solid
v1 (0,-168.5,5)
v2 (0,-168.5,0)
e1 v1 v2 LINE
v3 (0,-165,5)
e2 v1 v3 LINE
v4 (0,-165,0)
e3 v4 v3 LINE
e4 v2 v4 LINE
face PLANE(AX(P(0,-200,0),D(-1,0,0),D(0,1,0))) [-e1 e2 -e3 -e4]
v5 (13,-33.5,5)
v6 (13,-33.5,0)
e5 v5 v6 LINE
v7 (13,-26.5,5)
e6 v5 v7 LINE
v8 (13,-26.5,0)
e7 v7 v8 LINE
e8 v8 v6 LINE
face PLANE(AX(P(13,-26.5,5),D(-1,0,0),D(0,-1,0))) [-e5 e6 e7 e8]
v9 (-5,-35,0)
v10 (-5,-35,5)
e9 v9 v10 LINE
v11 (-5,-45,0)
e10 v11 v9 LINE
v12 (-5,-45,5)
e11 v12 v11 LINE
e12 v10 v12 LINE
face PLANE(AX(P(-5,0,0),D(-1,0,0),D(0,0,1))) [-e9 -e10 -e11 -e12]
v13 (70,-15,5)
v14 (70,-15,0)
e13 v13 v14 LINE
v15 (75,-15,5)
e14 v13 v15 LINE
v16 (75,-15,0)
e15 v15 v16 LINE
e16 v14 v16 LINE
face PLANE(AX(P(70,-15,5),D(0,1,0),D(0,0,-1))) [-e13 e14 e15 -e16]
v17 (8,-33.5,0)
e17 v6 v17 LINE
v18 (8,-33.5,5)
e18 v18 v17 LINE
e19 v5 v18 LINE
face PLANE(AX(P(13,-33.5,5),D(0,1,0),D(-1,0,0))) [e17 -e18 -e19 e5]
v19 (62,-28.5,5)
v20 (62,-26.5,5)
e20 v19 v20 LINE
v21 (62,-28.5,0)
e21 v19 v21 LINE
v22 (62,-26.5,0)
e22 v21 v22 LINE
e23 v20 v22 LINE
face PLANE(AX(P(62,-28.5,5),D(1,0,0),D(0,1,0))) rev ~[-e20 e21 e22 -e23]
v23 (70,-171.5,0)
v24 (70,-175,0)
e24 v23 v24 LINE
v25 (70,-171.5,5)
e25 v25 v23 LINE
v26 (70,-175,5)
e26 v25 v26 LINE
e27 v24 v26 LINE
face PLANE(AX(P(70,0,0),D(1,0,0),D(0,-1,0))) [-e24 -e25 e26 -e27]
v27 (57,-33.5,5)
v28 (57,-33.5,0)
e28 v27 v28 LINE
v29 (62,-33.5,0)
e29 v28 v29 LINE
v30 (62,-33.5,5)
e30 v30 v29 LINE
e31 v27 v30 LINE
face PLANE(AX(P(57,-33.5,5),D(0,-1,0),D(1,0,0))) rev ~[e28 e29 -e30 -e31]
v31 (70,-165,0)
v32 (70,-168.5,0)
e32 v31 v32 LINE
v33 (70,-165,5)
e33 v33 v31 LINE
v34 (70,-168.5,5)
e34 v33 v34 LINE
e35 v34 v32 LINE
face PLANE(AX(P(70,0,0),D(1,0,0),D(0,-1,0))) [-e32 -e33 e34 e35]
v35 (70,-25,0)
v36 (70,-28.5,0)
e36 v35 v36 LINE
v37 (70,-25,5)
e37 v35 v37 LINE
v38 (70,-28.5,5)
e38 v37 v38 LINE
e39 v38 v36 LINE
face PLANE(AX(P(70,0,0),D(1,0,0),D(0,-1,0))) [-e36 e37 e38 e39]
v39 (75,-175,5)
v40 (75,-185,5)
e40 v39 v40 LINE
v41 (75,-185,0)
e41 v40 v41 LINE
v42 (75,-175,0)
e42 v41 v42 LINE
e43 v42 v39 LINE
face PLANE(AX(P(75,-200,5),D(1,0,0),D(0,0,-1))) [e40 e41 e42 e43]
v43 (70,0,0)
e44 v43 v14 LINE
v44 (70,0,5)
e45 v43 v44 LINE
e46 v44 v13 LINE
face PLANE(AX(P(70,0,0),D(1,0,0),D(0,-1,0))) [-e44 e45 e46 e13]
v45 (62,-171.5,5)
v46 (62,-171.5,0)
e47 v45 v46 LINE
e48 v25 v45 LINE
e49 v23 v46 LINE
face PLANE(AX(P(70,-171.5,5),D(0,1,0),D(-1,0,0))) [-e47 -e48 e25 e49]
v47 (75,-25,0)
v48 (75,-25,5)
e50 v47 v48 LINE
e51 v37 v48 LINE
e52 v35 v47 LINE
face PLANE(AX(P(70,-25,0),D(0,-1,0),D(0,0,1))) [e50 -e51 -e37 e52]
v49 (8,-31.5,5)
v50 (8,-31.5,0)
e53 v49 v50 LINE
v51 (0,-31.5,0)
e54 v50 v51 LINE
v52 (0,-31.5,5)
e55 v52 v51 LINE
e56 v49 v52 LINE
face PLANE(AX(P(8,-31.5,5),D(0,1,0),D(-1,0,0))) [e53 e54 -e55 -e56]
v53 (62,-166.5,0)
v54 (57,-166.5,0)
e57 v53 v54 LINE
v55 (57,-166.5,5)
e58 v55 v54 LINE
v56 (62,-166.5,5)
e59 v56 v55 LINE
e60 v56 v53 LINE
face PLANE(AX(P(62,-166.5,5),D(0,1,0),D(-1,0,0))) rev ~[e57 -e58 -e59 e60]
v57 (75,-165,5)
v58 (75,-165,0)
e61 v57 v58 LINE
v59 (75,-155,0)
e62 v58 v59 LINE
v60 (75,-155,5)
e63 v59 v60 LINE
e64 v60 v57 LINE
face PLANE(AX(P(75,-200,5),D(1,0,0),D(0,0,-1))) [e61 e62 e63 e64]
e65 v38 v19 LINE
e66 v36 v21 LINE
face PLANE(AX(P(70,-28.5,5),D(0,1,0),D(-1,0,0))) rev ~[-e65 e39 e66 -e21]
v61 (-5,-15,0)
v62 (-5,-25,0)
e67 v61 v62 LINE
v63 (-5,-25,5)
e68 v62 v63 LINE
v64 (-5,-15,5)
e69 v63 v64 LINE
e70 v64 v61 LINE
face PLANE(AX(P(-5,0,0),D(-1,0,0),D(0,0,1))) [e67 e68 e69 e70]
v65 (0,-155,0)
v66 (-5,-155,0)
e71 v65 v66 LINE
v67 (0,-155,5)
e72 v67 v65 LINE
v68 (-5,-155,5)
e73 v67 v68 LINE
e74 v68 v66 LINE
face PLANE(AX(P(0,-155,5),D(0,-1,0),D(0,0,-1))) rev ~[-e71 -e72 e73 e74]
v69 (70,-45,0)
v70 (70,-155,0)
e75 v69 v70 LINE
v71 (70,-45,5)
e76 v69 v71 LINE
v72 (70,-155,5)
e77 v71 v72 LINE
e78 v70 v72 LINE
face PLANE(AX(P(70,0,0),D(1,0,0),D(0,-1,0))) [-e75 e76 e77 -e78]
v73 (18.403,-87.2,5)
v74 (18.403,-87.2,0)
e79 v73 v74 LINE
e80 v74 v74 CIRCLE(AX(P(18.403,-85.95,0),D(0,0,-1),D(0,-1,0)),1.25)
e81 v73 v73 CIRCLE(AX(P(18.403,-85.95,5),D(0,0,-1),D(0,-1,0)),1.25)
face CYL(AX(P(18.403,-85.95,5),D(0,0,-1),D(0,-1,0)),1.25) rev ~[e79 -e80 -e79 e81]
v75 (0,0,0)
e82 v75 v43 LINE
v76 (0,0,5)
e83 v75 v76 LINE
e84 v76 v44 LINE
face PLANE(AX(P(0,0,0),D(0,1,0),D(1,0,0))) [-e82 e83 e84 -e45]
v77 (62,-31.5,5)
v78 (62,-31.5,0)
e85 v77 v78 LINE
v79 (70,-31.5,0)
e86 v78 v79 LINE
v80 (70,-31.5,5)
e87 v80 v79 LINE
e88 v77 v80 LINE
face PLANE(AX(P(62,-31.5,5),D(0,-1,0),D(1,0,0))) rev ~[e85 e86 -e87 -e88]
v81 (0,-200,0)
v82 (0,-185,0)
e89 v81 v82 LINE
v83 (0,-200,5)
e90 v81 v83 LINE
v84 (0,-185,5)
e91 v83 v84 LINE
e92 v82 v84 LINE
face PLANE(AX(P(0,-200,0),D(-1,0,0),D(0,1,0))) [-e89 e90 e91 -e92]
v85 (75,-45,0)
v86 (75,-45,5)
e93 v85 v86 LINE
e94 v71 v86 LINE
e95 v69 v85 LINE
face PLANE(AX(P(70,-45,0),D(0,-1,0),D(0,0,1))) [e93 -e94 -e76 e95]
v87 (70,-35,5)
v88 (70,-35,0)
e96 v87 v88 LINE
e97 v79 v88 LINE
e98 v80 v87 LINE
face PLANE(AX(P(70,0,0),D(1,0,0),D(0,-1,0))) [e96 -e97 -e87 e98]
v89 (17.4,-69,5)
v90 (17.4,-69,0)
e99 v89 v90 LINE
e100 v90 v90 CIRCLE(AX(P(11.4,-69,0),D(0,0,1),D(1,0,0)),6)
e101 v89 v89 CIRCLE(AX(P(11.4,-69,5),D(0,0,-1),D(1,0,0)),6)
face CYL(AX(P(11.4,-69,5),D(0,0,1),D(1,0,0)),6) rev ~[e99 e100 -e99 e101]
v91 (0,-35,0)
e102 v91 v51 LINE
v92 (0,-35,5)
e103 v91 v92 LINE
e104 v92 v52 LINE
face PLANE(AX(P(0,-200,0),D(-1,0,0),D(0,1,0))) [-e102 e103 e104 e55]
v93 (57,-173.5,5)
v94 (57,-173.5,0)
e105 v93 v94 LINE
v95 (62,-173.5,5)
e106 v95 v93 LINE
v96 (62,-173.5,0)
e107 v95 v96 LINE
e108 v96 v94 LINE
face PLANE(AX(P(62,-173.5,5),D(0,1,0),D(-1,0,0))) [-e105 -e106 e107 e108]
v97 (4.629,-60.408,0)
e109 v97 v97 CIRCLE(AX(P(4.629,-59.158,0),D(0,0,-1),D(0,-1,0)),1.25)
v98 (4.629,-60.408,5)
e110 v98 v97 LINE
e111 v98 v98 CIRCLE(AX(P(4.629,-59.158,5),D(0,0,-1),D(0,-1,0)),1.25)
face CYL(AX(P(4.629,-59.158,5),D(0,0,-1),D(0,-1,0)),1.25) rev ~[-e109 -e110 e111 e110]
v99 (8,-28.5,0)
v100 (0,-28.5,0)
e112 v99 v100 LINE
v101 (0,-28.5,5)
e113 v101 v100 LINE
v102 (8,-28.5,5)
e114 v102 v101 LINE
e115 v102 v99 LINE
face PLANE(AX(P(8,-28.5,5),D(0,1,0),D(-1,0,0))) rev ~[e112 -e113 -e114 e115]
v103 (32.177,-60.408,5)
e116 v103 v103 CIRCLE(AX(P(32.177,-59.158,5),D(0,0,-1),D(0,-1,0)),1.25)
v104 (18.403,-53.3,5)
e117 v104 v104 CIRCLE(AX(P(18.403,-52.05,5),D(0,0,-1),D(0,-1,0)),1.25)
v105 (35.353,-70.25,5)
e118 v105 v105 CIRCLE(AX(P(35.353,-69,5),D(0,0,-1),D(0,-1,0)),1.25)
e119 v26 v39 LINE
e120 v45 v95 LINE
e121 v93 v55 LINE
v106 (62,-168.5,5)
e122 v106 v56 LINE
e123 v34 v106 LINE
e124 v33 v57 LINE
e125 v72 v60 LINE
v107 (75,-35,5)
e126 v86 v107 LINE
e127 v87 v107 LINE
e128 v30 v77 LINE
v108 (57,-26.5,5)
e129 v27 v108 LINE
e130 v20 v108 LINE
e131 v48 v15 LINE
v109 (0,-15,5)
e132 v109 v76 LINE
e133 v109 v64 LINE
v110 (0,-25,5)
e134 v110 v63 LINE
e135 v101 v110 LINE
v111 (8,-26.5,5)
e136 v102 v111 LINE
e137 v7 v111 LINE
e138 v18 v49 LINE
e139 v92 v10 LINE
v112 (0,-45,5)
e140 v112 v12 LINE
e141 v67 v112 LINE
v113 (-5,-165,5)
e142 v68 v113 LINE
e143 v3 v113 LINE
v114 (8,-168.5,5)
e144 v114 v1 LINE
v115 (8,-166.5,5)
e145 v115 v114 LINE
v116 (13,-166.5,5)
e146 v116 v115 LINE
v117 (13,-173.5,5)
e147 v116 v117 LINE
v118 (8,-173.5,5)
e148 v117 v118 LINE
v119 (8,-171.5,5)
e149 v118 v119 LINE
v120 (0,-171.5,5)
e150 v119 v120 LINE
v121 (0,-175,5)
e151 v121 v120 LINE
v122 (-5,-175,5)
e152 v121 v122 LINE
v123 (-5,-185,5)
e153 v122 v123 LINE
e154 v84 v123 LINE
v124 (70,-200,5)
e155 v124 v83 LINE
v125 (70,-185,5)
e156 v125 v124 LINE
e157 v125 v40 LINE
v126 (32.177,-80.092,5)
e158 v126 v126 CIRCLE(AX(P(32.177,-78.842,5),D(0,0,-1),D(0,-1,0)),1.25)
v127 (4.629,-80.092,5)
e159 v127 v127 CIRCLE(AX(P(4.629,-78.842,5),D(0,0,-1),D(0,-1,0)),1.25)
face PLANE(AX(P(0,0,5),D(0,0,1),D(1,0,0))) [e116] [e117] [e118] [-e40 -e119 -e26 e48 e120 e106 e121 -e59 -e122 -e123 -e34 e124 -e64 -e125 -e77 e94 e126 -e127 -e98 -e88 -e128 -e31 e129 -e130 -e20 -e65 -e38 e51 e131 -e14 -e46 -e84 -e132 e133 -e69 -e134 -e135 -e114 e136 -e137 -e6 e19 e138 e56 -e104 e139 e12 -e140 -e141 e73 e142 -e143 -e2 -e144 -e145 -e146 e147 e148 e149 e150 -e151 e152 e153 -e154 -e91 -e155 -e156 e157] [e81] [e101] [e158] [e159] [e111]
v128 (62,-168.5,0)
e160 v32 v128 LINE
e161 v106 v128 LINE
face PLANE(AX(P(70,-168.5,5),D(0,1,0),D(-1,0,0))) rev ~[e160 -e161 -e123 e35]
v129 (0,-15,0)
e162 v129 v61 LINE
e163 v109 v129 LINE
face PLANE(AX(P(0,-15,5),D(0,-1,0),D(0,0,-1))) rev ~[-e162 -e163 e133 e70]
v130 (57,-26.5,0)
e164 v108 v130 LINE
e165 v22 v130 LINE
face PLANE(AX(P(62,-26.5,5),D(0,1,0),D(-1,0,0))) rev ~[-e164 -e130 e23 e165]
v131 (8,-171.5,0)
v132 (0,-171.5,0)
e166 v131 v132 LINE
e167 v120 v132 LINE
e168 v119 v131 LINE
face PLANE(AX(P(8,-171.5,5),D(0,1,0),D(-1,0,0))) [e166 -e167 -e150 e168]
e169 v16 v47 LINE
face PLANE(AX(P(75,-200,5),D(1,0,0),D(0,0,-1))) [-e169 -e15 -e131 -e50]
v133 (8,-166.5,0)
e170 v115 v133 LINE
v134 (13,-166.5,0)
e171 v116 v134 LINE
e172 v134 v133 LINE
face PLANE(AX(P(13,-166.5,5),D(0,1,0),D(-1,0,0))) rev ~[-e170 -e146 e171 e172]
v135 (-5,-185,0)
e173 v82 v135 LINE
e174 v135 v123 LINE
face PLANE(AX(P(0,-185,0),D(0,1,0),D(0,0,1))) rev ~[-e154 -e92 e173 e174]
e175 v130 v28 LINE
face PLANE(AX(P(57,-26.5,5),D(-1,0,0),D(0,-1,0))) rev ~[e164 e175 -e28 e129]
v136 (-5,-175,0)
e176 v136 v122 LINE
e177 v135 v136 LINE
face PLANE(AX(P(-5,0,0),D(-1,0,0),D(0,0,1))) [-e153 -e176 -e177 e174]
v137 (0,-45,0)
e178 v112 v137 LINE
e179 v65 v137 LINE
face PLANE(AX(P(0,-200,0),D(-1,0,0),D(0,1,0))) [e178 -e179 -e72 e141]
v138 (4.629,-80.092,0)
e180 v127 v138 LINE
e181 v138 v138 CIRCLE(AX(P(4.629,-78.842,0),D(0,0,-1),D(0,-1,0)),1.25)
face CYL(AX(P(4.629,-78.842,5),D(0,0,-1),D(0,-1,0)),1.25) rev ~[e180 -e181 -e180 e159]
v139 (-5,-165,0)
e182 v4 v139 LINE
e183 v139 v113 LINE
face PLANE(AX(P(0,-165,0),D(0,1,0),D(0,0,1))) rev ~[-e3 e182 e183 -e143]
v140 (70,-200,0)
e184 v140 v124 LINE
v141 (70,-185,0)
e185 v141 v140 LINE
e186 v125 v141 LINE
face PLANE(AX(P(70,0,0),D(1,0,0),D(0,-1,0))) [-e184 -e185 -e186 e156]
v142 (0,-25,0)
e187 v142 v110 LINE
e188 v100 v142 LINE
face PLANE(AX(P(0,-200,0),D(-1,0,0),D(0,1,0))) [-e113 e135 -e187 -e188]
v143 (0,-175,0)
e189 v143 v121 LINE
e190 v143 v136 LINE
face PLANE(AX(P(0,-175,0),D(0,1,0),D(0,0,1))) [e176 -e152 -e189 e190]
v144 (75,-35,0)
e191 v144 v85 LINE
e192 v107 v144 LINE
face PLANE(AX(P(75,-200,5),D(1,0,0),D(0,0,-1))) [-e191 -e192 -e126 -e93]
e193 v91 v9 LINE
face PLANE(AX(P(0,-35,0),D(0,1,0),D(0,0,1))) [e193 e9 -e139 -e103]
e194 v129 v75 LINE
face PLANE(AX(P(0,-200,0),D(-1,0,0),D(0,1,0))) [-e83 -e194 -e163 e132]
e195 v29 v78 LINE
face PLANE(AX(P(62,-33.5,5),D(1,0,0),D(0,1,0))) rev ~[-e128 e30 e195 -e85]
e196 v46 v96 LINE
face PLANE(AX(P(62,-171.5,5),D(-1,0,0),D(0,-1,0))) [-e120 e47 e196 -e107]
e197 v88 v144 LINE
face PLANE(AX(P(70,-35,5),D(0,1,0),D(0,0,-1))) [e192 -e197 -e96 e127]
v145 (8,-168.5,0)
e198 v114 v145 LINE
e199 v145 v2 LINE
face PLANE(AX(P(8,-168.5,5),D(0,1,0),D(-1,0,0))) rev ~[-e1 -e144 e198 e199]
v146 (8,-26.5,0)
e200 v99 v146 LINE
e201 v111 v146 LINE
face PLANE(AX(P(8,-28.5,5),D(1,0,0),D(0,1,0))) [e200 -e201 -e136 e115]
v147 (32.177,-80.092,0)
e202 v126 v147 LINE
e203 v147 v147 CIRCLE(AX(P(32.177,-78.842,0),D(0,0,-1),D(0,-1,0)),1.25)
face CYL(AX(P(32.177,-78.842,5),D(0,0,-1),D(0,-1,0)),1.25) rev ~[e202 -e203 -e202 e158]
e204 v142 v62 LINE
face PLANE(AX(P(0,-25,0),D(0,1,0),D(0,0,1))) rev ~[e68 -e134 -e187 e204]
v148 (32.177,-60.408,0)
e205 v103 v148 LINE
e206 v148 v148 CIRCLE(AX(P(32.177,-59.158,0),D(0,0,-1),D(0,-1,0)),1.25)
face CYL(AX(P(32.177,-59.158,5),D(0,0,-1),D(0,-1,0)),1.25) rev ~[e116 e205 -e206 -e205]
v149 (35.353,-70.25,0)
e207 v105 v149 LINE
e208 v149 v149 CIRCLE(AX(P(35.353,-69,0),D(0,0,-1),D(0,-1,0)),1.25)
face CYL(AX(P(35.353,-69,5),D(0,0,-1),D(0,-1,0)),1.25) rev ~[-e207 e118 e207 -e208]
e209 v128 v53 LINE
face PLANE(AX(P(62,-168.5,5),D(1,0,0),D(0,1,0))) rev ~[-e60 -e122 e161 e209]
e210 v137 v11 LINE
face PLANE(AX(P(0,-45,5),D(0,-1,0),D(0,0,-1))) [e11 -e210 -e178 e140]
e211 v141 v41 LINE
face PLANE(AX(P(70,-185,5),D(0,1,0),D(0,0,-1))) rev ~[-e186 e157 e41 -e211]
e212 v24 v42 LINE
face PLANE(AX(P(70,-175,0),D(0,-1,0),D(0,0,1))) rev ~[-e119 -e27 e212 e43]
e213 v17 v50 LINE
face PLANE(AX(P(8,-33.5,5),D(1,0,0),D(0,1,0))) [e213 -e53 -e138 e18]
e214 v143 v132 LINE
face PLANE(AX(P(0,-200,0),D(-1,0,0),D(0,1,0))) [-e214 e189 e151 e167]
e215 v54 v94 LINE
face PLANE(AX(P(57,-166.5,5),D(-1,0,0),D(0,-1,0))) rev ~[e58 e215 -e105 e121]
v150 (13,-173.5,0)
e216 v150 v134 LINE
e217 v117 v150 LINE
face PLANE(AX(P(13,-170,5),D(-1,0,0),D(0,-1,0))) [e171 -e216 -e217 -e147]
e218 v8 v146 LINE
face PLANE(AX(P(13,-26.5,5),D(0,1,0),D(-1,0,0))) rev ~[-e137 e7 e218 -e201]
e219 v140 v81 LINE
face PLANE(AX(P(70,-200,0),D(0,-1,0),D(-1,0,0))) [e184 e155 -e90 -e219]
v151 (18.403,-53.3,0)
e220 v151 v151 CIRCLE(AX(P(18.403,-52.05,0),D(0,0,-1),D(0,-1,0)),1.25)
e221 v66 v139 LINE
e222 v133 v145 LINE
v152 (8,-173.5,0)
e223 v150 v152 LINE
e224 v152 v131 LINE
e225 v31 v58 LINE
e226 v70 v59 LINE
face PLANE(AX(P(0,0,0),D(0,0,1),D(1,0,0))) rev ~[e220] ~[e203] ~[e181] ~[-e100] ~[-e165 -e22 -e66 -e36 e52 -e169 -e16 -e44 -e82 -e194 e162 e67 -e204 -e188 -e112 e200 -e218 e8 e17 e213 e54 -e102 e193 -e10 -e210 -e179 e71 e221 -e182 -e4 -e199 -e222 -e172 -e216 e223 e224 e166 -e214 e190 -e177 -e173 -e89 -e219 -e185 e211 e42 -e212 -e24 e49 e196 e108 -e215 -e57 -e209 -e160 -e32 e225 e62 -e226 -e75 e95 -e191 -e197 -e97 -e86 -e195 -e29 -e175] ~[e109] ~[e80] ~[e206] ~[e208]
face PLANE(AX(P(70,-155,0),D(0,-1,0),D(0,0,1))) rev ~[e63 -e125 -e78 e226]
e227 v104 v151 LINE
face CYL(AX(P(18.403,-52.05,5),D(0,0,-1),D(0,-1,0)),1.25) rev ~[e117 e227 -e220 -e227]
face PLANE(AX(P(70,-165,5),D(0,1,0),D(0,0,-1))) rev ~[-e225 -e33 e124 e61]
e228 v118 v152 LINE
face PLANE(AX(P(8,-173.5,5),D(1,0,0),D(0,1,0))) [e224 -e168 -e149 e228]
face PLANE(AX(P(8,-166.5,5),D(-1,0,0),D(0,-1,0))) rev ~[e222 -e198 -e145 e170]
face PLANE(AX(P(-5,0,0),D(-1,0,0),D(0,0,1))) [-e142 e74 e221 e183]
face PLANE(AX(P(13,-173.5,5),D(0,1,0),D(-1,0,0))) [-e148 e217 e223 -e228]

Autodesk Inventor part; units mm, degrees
ref_plane "YZ Plane" through (0, 0, 0) normal (1, 0, 0) x (0, 1, 0)
ref_plane "XZ Plane" through (0, 0, 0) normal (0, 1, 0) x (-1, 0, 0)
ref_plane "XY Plane" through (0, 0, 0) normal (0, 0, 1) x (1, 0, 0)
sketch "Sketch1" plane through (0, 0, 0) normal (0, 0, 1) x (1, 0, 0)
  line L0 (0, 0) -> (70, 0)
  line L1 (70, 0) -> (70, -200)
  line L2 (70, -200) -> (0, -200)
  line L3 (0, -200) -> (0, 0)
  dimension "d0" = 70
  dimension "d1" = 200
extrude "Extrusion1" add sketch "Sketch1" along normal blind 5
sketch "Sketch3" plane through (0, 0, 5) normal (0, 0, 1) x (1, 0, 0)
  line L0 (0, -0.5) -> (0, -3)
  line L1 (0, -3) -> (0, -30)
  line L2 (0, -3) -> (0, -2)
  line L3 (8, -1) -> (11, -1)
  line L4 (0, -30) -> (0, -28.5)
  line L5 (8, -28.5) -> (8, -26.5)
  line L6 (13, -26.5) -> (13, -33.5)
  line L7 (8, -33.5) -> (8, -31.5)
  line L8 (0, -31.5) -> (0, -30)
  line L9 (0, -30) -> (13, -30)
  line L10 (0, -30) -> (0, -60)
  line L11 (0, -60) -> (13, -60)
  line L12 (13, -60) -> (13, -56.5)
  line L13 (13, -56.5) -> (8, -56.5)
  line L14 (8, -56.5) -> (8, -58.5)
  line L15 (8, -58.5) -> (0, -58.5)
  line L16 (13, -60) -> (13, -63.5)
  line L17 (13, -63.5) -> (8, -63.5)
  line L18 (8, -63.5) -> (8, -61.5)
  line L19 (8, -61.5) -> (0, -61.5)
  line L20 (0, -60) -> (0, -90)
  line L21 (0, -90) -> (0, -170)
  line L22 (0, -170) -> (13, -170)
  line L23 (13, -170) -> (13, -166.5)
  line L24 (13, -166.5) -> (8, -166.5)
  line L25 (8, -166.5) -> (8, -168.5)
  line L26 (8, -168.5) -> (0, -168.5)
  line L27 (13, -170) -> (13, -173.5)
  line L28 (13, -173.5) -> (8, -173.5)
  line L29 (8, -173.5) -> (8, -171.5)
  line L30 (8, -171.5) -> (0, -171.5)
  line L31 (0, -171.5) -> (0, -170)
  line L32 (0, -91.5) -> (0, -90)
  line L33 (0, -61.5) -> (0, -60)
  line L34 (0, -31.5) -> (0, -30)
  line L35 (0, -4) -> (0, -3)
  line L36 (70, 0) -> (0, 0) projected
  line L37 (0, -30) -> (70, -30)
  line L38 (0, -60) -> (70, -60)
  line L39 (0, -170) -> (70, -170)
  line L40 (70, -60) -> (70, -58.5)
  line L41 (70, -58.5) -> (62, -58.5)
  line L42 (62, -58.5) -> (62, -56.5)
  line L43 (62, -56.5) -> (57, -56.5)
  line L44 (57, -56.5) -> (57, -60)
  line L45 (57, -60) -> (57, -63.5)
  line L46 (57, -63.5) -> (62, -63.5)
  line L47 (62, -63.5) -> (62, -61.5)
  line L48 (62, -61.5) -> (70, -61.5)
  line L49 (70, -61.5) -> (70, -60)
  line L50 (70, -170) -> (70, -168.5)
  line L51 (70, -168.5) -> (62, -168.5)
  line L52 (62, -168.5) -> (62, -166.5)
  line L53 (62, -166.5) -> (57, -166.5)
  line L54 (57, -166.5) -> (57, -170)
  line L55 (70, -170) -> (70, -171.5)
  line L56 (70, -171.5) -> (62, -171.5)
  line L57 (62, -171.5) -> (62, -173.5)
  line L58 (62, -173.5) -> (57, -173.5)
  line L59 (57, -173.5) -> (57, -170)
  line L60 (13, -33.5) -> (8, -33.5)
  line L61 (13, -26.5) -> (8, -26.5)
  line L62 (8, -28.5) -> (0, -28.5)
  line L63 (8, -31.5) -> (0, -31.5)
  line L64 (70, -28.5) -> (62, -28.5)
  line L65 (62, -28.5) -> (62, -26.5)
  line L66 (62, -26.5) -> (57, -26.5)
  line L67 (57, -26.5) -> (57, -30)
  line L68 (57, -30) -> (57, -33.5)
  line L69 (57, -33.5) -> (62, -33.5)
  line L70 (62, -33.5) -> (62, -31.5)
  line L71 (62, -31.5) -> (70, -31.5)
  line L72 (70, -28.5) -> (70, -30)
  line L73 (70, -30) -> (70, -31.5)
  line L74 (0, -0.5) -> (0, 0)
  dimension "d35" = 3
  dimension "d41" = 5
  dimension "d53" = 2
  dimension "d55" = 5
  dimension "d92" = 1.5
  dimension "d94" = 1.5
  dimension "d95" = 2
  dimension "d97" = 8
  dimension "d99" = 5
  dimension "d103" = 1.5
  dimension "d104" = 1.5
  dimension "d105" = 8
  dimension "d113" = 1.5
  dimension "d114" = 1.5
  dimension "d115" = 8
  dimension "d116" = 5
  dimension "d117" = 2
  dimension "d118" = 2
  dimension "d130" = 1.5
  dimension "d131" = 8
  dimension "d132" = 2
  dimension "d133" = 5
  dimension "d134" = 3.5
  dimension "d135" = 5
  dimension "d136" = 2
  dimension "d145" = 1.5
  dimension "d146" = 8
  dimension "d147" = 2
  dimension "d148" = 5
  dimension "d149" = 1.5
  dimension "d150" = 8
  dimension "d151" = 2
  dimension "d152" = 5
extrude "Extrusion3" cut sketch "Sketch3" against normal blind 5 contours L22 L27 L28 L29 L30 L31
extrude "Extrusion4" cut sketch "Sketch3" against normal blind 5 contours L26 L25 L24 L23 L22 L21
extrude "Extrusion14" cut sketch "Sketch3" against normal blind 5 contours L39 L55 L56 L57 L58 L59
extrude "Extrusion15" cut sketch "Sketch3" against normal blind 5 contours L54 L53 L52 L51 L50 L39
sketch "Sketch4" plane through (0, 0, 5) normal (0, 0, 1) x (1, 0, 0)
  line L0 (0, 0) -> (0, -19)
  circle A0 centre (11.4, -69) radius 6
  line L1 (17.4, -69) -> (34.103, -69)
  circle A1 centre (35.353, -69) radius 1.25
  line L2 (35.353, -69) -> (34.103, -69)
  line L3 (35.353, -69) -> (32.177, -69)
  line L4 (32.177, -69) -> (32.177, -78.842)
  line L5 (32.177, -69) -> (32.177, -59.158)
  circle A2 centre (32.177, -59.158) radius 1.25
  circle A3 centre (32.177, -78.842) radius 1.25
  line L6 (35.353, -69) -> (18.403, -69)
  line L7 (18.403, -69) -> (18.403, -85.95)
  line L8 (18.403, -69) -> (18.403, -52.05)
  circle A4 centre (18.403, -52.05) radius 1.25
  circle A5 centre (18.403, -85.95) radius 1.25
  line L9 (32.177, -59.158) -> (18.403, -52.05)
  line L10 (18.403, -69) -> (17.4, -69)
  line L11 (18.403, -69) -> (4.629, -69)
  line L12 (18.403, -52.05) -> (4.629, -59.158)
  circle A6 centre (4.629, -59.158) radius 1.25
  line L13 (4.629, -59.158) -> (4.629, -78.842)
  line L14 (18.403, -85.95) -> (4.629, -78.842)
  circle A7 centre (4.629, -78.842) radius 1.25
  line L15 (70, 0) -> (0, 0) projected
  dimension "d171" = 12
  dimension "d176" = 2.5
  dimension "d169" = 19
  dimension "d179" = 3.176
  dimension "d180" = 9.842
  dimension "d181" = 9.842
  dimension "d182" = 2.5
  dimension "d183" = 2.5
  dimension "d184" = 16.95
  dimension "d185" = 16.95
  dimension "d186" = 16.95
  dimension "d187" = 2.5
  dimension "d188" = 2.5
  dimension "d196" = 13.774
  dimension "d197" = 2.5
  dimension "d273" = 69
extrude "Extrusion22" cut sketch "Sketch4" against normal blind 5 contours L11 A0 | A0 L11
hole "Hole1" at (18.403, -85.95, 5) direction (0, 0, -1) diameter 2.5 end through all
hole "Hole2" at (4.629, -78.842, 5) at (4.629, -59.158, 5) at (4.629, -78.842, 5) direction (0, 0, -1) diameter 2.5 end through all
hole "Hole3" at (18.403, -52.05, 5) direction (0, 0, -1) diameter 2.5 end through all
hole "Hole4" at (32.177, -59.158, 5) direction (0, 0, -1) diameter 2.5 end through all
hole "Hole5" at (35.353, -69, 5) direction (0, 0, -1) diameter 2.5 end through all
hole "Hole6" at (32.177, -78.842, 5) direction (0, 0, -1) diameter 2.5 end through all
sketch "Sketch5" plane through (70, -200, 5) normal (1, 0, 0) x (0, 0, -1)
  line L0 (0, 0) -> (0, 15)
  line L1 (0, 15) -> (5, 15)
  line L2 (5, 15) -> (5, 25)
  line L3 (5, 25) -> (0, 25)
  line L4 (0, 25) -> (0, 15)
  line L5 (0, 25) -> (0, 35)
  line L6 (0, 35) -> (5, 35)
  line L7 (5, 35) -> (5, 45)
  line L8 (5, 45) -> (0, 45)
  line L9 (0, 45) -> (0, 35)
  line L10 (5, 200) -> (0, 200)
  line L11 (0, 185) -> (5, 185)
  line L12 (5, 185) -> (5, 175)
  line L13 (5, 175) -> (0, 175)
  line L14 (0, 175) -> (0, 185)
  line L15 (0, 175) -> (0, 165)
  line L16 (0, 165) -> (5, 165)
  line L17 (5, 165) -> (5, 155)
  line L18 (5, 155) -> (0, 155)
  line L19 (0, 155) -> (0, 165)
  dimension "d242" = 15
  dimension "d243" = 10
  dimension "d244" = 10
  dimension "d245" = 10
  dimension "d247" = 10
  dimension "d248" = 10
  dimension "d249" = 10
  dimension "d269" = 110
extrude "Extrusion26" add sketch "Sketch5" along normal blind 5
sketch "Sketch6" plane through (0, 0, 0) normal (-1, 0, 0) x (0, 0, 1)
  line L0 (0, 0) -> (0, -15)
  line L1 (0, -15) -> (0, -25)
  line L2 (0, -25) -> (5, -25)
  line L3 (5, -25) -> (5, -15)
  line L4 (5, -15) -> (0, -15)
  line L5 (0, -25) -> (0, -35)
  line L6 (0, -35) -> (5, -35)
  line L7 (5, -35) -> (5, -45)
  line L8 (5, -45) -> (0, -45)
  line L9 (0, -45) -> (0, -35)
  line L10 (5, -45) -> (5, -150)
  line L11 (5, -150) -> (5, -185)
  line L12 (0, -185) -> (0, -175)
  line L13 (0, -175) -> (0, -165)
  line L14 (0, -165) -> (5, -165)
  line L15 (5, -165) -> (5, -155)
  line L16 (5, -155) -> (0, -155)
  line L17 (0, -155) -> (0, -165)
  line L18 (5, -155) -> (5, -45)
  line L19 (0, -185) -> (5, -185)
  line L20 (0, -175) -> (5, -175)
  dimension "d253" = 10
  dimension "d254" = 5
  dimension "d255" = 10
  dimension "d256" = 10
  dimension "d259" = 10
  dimension "d260" = 10
  dimension "d261" = 10
  dimension "d266" = 110
extrude "Extrusion28" add sketch "Sketch6" along normal blind 5 contours L4 L3 L2 L1 | L11 L14 L17 L16 | L6 L7 L8 L9 | L11 L19 L12 L20
extrude "Extrusion30" cut sketch "Sketch3" against normal blind 5 contours L62 L5 L61 L6 L9 L1 | L67 L66 L65 L64 L72 L37 | L37 L73 L71 L70 L69 L68 | L9 L6 L60 L7 L63 L8
properties part number "lateral_mdf"
